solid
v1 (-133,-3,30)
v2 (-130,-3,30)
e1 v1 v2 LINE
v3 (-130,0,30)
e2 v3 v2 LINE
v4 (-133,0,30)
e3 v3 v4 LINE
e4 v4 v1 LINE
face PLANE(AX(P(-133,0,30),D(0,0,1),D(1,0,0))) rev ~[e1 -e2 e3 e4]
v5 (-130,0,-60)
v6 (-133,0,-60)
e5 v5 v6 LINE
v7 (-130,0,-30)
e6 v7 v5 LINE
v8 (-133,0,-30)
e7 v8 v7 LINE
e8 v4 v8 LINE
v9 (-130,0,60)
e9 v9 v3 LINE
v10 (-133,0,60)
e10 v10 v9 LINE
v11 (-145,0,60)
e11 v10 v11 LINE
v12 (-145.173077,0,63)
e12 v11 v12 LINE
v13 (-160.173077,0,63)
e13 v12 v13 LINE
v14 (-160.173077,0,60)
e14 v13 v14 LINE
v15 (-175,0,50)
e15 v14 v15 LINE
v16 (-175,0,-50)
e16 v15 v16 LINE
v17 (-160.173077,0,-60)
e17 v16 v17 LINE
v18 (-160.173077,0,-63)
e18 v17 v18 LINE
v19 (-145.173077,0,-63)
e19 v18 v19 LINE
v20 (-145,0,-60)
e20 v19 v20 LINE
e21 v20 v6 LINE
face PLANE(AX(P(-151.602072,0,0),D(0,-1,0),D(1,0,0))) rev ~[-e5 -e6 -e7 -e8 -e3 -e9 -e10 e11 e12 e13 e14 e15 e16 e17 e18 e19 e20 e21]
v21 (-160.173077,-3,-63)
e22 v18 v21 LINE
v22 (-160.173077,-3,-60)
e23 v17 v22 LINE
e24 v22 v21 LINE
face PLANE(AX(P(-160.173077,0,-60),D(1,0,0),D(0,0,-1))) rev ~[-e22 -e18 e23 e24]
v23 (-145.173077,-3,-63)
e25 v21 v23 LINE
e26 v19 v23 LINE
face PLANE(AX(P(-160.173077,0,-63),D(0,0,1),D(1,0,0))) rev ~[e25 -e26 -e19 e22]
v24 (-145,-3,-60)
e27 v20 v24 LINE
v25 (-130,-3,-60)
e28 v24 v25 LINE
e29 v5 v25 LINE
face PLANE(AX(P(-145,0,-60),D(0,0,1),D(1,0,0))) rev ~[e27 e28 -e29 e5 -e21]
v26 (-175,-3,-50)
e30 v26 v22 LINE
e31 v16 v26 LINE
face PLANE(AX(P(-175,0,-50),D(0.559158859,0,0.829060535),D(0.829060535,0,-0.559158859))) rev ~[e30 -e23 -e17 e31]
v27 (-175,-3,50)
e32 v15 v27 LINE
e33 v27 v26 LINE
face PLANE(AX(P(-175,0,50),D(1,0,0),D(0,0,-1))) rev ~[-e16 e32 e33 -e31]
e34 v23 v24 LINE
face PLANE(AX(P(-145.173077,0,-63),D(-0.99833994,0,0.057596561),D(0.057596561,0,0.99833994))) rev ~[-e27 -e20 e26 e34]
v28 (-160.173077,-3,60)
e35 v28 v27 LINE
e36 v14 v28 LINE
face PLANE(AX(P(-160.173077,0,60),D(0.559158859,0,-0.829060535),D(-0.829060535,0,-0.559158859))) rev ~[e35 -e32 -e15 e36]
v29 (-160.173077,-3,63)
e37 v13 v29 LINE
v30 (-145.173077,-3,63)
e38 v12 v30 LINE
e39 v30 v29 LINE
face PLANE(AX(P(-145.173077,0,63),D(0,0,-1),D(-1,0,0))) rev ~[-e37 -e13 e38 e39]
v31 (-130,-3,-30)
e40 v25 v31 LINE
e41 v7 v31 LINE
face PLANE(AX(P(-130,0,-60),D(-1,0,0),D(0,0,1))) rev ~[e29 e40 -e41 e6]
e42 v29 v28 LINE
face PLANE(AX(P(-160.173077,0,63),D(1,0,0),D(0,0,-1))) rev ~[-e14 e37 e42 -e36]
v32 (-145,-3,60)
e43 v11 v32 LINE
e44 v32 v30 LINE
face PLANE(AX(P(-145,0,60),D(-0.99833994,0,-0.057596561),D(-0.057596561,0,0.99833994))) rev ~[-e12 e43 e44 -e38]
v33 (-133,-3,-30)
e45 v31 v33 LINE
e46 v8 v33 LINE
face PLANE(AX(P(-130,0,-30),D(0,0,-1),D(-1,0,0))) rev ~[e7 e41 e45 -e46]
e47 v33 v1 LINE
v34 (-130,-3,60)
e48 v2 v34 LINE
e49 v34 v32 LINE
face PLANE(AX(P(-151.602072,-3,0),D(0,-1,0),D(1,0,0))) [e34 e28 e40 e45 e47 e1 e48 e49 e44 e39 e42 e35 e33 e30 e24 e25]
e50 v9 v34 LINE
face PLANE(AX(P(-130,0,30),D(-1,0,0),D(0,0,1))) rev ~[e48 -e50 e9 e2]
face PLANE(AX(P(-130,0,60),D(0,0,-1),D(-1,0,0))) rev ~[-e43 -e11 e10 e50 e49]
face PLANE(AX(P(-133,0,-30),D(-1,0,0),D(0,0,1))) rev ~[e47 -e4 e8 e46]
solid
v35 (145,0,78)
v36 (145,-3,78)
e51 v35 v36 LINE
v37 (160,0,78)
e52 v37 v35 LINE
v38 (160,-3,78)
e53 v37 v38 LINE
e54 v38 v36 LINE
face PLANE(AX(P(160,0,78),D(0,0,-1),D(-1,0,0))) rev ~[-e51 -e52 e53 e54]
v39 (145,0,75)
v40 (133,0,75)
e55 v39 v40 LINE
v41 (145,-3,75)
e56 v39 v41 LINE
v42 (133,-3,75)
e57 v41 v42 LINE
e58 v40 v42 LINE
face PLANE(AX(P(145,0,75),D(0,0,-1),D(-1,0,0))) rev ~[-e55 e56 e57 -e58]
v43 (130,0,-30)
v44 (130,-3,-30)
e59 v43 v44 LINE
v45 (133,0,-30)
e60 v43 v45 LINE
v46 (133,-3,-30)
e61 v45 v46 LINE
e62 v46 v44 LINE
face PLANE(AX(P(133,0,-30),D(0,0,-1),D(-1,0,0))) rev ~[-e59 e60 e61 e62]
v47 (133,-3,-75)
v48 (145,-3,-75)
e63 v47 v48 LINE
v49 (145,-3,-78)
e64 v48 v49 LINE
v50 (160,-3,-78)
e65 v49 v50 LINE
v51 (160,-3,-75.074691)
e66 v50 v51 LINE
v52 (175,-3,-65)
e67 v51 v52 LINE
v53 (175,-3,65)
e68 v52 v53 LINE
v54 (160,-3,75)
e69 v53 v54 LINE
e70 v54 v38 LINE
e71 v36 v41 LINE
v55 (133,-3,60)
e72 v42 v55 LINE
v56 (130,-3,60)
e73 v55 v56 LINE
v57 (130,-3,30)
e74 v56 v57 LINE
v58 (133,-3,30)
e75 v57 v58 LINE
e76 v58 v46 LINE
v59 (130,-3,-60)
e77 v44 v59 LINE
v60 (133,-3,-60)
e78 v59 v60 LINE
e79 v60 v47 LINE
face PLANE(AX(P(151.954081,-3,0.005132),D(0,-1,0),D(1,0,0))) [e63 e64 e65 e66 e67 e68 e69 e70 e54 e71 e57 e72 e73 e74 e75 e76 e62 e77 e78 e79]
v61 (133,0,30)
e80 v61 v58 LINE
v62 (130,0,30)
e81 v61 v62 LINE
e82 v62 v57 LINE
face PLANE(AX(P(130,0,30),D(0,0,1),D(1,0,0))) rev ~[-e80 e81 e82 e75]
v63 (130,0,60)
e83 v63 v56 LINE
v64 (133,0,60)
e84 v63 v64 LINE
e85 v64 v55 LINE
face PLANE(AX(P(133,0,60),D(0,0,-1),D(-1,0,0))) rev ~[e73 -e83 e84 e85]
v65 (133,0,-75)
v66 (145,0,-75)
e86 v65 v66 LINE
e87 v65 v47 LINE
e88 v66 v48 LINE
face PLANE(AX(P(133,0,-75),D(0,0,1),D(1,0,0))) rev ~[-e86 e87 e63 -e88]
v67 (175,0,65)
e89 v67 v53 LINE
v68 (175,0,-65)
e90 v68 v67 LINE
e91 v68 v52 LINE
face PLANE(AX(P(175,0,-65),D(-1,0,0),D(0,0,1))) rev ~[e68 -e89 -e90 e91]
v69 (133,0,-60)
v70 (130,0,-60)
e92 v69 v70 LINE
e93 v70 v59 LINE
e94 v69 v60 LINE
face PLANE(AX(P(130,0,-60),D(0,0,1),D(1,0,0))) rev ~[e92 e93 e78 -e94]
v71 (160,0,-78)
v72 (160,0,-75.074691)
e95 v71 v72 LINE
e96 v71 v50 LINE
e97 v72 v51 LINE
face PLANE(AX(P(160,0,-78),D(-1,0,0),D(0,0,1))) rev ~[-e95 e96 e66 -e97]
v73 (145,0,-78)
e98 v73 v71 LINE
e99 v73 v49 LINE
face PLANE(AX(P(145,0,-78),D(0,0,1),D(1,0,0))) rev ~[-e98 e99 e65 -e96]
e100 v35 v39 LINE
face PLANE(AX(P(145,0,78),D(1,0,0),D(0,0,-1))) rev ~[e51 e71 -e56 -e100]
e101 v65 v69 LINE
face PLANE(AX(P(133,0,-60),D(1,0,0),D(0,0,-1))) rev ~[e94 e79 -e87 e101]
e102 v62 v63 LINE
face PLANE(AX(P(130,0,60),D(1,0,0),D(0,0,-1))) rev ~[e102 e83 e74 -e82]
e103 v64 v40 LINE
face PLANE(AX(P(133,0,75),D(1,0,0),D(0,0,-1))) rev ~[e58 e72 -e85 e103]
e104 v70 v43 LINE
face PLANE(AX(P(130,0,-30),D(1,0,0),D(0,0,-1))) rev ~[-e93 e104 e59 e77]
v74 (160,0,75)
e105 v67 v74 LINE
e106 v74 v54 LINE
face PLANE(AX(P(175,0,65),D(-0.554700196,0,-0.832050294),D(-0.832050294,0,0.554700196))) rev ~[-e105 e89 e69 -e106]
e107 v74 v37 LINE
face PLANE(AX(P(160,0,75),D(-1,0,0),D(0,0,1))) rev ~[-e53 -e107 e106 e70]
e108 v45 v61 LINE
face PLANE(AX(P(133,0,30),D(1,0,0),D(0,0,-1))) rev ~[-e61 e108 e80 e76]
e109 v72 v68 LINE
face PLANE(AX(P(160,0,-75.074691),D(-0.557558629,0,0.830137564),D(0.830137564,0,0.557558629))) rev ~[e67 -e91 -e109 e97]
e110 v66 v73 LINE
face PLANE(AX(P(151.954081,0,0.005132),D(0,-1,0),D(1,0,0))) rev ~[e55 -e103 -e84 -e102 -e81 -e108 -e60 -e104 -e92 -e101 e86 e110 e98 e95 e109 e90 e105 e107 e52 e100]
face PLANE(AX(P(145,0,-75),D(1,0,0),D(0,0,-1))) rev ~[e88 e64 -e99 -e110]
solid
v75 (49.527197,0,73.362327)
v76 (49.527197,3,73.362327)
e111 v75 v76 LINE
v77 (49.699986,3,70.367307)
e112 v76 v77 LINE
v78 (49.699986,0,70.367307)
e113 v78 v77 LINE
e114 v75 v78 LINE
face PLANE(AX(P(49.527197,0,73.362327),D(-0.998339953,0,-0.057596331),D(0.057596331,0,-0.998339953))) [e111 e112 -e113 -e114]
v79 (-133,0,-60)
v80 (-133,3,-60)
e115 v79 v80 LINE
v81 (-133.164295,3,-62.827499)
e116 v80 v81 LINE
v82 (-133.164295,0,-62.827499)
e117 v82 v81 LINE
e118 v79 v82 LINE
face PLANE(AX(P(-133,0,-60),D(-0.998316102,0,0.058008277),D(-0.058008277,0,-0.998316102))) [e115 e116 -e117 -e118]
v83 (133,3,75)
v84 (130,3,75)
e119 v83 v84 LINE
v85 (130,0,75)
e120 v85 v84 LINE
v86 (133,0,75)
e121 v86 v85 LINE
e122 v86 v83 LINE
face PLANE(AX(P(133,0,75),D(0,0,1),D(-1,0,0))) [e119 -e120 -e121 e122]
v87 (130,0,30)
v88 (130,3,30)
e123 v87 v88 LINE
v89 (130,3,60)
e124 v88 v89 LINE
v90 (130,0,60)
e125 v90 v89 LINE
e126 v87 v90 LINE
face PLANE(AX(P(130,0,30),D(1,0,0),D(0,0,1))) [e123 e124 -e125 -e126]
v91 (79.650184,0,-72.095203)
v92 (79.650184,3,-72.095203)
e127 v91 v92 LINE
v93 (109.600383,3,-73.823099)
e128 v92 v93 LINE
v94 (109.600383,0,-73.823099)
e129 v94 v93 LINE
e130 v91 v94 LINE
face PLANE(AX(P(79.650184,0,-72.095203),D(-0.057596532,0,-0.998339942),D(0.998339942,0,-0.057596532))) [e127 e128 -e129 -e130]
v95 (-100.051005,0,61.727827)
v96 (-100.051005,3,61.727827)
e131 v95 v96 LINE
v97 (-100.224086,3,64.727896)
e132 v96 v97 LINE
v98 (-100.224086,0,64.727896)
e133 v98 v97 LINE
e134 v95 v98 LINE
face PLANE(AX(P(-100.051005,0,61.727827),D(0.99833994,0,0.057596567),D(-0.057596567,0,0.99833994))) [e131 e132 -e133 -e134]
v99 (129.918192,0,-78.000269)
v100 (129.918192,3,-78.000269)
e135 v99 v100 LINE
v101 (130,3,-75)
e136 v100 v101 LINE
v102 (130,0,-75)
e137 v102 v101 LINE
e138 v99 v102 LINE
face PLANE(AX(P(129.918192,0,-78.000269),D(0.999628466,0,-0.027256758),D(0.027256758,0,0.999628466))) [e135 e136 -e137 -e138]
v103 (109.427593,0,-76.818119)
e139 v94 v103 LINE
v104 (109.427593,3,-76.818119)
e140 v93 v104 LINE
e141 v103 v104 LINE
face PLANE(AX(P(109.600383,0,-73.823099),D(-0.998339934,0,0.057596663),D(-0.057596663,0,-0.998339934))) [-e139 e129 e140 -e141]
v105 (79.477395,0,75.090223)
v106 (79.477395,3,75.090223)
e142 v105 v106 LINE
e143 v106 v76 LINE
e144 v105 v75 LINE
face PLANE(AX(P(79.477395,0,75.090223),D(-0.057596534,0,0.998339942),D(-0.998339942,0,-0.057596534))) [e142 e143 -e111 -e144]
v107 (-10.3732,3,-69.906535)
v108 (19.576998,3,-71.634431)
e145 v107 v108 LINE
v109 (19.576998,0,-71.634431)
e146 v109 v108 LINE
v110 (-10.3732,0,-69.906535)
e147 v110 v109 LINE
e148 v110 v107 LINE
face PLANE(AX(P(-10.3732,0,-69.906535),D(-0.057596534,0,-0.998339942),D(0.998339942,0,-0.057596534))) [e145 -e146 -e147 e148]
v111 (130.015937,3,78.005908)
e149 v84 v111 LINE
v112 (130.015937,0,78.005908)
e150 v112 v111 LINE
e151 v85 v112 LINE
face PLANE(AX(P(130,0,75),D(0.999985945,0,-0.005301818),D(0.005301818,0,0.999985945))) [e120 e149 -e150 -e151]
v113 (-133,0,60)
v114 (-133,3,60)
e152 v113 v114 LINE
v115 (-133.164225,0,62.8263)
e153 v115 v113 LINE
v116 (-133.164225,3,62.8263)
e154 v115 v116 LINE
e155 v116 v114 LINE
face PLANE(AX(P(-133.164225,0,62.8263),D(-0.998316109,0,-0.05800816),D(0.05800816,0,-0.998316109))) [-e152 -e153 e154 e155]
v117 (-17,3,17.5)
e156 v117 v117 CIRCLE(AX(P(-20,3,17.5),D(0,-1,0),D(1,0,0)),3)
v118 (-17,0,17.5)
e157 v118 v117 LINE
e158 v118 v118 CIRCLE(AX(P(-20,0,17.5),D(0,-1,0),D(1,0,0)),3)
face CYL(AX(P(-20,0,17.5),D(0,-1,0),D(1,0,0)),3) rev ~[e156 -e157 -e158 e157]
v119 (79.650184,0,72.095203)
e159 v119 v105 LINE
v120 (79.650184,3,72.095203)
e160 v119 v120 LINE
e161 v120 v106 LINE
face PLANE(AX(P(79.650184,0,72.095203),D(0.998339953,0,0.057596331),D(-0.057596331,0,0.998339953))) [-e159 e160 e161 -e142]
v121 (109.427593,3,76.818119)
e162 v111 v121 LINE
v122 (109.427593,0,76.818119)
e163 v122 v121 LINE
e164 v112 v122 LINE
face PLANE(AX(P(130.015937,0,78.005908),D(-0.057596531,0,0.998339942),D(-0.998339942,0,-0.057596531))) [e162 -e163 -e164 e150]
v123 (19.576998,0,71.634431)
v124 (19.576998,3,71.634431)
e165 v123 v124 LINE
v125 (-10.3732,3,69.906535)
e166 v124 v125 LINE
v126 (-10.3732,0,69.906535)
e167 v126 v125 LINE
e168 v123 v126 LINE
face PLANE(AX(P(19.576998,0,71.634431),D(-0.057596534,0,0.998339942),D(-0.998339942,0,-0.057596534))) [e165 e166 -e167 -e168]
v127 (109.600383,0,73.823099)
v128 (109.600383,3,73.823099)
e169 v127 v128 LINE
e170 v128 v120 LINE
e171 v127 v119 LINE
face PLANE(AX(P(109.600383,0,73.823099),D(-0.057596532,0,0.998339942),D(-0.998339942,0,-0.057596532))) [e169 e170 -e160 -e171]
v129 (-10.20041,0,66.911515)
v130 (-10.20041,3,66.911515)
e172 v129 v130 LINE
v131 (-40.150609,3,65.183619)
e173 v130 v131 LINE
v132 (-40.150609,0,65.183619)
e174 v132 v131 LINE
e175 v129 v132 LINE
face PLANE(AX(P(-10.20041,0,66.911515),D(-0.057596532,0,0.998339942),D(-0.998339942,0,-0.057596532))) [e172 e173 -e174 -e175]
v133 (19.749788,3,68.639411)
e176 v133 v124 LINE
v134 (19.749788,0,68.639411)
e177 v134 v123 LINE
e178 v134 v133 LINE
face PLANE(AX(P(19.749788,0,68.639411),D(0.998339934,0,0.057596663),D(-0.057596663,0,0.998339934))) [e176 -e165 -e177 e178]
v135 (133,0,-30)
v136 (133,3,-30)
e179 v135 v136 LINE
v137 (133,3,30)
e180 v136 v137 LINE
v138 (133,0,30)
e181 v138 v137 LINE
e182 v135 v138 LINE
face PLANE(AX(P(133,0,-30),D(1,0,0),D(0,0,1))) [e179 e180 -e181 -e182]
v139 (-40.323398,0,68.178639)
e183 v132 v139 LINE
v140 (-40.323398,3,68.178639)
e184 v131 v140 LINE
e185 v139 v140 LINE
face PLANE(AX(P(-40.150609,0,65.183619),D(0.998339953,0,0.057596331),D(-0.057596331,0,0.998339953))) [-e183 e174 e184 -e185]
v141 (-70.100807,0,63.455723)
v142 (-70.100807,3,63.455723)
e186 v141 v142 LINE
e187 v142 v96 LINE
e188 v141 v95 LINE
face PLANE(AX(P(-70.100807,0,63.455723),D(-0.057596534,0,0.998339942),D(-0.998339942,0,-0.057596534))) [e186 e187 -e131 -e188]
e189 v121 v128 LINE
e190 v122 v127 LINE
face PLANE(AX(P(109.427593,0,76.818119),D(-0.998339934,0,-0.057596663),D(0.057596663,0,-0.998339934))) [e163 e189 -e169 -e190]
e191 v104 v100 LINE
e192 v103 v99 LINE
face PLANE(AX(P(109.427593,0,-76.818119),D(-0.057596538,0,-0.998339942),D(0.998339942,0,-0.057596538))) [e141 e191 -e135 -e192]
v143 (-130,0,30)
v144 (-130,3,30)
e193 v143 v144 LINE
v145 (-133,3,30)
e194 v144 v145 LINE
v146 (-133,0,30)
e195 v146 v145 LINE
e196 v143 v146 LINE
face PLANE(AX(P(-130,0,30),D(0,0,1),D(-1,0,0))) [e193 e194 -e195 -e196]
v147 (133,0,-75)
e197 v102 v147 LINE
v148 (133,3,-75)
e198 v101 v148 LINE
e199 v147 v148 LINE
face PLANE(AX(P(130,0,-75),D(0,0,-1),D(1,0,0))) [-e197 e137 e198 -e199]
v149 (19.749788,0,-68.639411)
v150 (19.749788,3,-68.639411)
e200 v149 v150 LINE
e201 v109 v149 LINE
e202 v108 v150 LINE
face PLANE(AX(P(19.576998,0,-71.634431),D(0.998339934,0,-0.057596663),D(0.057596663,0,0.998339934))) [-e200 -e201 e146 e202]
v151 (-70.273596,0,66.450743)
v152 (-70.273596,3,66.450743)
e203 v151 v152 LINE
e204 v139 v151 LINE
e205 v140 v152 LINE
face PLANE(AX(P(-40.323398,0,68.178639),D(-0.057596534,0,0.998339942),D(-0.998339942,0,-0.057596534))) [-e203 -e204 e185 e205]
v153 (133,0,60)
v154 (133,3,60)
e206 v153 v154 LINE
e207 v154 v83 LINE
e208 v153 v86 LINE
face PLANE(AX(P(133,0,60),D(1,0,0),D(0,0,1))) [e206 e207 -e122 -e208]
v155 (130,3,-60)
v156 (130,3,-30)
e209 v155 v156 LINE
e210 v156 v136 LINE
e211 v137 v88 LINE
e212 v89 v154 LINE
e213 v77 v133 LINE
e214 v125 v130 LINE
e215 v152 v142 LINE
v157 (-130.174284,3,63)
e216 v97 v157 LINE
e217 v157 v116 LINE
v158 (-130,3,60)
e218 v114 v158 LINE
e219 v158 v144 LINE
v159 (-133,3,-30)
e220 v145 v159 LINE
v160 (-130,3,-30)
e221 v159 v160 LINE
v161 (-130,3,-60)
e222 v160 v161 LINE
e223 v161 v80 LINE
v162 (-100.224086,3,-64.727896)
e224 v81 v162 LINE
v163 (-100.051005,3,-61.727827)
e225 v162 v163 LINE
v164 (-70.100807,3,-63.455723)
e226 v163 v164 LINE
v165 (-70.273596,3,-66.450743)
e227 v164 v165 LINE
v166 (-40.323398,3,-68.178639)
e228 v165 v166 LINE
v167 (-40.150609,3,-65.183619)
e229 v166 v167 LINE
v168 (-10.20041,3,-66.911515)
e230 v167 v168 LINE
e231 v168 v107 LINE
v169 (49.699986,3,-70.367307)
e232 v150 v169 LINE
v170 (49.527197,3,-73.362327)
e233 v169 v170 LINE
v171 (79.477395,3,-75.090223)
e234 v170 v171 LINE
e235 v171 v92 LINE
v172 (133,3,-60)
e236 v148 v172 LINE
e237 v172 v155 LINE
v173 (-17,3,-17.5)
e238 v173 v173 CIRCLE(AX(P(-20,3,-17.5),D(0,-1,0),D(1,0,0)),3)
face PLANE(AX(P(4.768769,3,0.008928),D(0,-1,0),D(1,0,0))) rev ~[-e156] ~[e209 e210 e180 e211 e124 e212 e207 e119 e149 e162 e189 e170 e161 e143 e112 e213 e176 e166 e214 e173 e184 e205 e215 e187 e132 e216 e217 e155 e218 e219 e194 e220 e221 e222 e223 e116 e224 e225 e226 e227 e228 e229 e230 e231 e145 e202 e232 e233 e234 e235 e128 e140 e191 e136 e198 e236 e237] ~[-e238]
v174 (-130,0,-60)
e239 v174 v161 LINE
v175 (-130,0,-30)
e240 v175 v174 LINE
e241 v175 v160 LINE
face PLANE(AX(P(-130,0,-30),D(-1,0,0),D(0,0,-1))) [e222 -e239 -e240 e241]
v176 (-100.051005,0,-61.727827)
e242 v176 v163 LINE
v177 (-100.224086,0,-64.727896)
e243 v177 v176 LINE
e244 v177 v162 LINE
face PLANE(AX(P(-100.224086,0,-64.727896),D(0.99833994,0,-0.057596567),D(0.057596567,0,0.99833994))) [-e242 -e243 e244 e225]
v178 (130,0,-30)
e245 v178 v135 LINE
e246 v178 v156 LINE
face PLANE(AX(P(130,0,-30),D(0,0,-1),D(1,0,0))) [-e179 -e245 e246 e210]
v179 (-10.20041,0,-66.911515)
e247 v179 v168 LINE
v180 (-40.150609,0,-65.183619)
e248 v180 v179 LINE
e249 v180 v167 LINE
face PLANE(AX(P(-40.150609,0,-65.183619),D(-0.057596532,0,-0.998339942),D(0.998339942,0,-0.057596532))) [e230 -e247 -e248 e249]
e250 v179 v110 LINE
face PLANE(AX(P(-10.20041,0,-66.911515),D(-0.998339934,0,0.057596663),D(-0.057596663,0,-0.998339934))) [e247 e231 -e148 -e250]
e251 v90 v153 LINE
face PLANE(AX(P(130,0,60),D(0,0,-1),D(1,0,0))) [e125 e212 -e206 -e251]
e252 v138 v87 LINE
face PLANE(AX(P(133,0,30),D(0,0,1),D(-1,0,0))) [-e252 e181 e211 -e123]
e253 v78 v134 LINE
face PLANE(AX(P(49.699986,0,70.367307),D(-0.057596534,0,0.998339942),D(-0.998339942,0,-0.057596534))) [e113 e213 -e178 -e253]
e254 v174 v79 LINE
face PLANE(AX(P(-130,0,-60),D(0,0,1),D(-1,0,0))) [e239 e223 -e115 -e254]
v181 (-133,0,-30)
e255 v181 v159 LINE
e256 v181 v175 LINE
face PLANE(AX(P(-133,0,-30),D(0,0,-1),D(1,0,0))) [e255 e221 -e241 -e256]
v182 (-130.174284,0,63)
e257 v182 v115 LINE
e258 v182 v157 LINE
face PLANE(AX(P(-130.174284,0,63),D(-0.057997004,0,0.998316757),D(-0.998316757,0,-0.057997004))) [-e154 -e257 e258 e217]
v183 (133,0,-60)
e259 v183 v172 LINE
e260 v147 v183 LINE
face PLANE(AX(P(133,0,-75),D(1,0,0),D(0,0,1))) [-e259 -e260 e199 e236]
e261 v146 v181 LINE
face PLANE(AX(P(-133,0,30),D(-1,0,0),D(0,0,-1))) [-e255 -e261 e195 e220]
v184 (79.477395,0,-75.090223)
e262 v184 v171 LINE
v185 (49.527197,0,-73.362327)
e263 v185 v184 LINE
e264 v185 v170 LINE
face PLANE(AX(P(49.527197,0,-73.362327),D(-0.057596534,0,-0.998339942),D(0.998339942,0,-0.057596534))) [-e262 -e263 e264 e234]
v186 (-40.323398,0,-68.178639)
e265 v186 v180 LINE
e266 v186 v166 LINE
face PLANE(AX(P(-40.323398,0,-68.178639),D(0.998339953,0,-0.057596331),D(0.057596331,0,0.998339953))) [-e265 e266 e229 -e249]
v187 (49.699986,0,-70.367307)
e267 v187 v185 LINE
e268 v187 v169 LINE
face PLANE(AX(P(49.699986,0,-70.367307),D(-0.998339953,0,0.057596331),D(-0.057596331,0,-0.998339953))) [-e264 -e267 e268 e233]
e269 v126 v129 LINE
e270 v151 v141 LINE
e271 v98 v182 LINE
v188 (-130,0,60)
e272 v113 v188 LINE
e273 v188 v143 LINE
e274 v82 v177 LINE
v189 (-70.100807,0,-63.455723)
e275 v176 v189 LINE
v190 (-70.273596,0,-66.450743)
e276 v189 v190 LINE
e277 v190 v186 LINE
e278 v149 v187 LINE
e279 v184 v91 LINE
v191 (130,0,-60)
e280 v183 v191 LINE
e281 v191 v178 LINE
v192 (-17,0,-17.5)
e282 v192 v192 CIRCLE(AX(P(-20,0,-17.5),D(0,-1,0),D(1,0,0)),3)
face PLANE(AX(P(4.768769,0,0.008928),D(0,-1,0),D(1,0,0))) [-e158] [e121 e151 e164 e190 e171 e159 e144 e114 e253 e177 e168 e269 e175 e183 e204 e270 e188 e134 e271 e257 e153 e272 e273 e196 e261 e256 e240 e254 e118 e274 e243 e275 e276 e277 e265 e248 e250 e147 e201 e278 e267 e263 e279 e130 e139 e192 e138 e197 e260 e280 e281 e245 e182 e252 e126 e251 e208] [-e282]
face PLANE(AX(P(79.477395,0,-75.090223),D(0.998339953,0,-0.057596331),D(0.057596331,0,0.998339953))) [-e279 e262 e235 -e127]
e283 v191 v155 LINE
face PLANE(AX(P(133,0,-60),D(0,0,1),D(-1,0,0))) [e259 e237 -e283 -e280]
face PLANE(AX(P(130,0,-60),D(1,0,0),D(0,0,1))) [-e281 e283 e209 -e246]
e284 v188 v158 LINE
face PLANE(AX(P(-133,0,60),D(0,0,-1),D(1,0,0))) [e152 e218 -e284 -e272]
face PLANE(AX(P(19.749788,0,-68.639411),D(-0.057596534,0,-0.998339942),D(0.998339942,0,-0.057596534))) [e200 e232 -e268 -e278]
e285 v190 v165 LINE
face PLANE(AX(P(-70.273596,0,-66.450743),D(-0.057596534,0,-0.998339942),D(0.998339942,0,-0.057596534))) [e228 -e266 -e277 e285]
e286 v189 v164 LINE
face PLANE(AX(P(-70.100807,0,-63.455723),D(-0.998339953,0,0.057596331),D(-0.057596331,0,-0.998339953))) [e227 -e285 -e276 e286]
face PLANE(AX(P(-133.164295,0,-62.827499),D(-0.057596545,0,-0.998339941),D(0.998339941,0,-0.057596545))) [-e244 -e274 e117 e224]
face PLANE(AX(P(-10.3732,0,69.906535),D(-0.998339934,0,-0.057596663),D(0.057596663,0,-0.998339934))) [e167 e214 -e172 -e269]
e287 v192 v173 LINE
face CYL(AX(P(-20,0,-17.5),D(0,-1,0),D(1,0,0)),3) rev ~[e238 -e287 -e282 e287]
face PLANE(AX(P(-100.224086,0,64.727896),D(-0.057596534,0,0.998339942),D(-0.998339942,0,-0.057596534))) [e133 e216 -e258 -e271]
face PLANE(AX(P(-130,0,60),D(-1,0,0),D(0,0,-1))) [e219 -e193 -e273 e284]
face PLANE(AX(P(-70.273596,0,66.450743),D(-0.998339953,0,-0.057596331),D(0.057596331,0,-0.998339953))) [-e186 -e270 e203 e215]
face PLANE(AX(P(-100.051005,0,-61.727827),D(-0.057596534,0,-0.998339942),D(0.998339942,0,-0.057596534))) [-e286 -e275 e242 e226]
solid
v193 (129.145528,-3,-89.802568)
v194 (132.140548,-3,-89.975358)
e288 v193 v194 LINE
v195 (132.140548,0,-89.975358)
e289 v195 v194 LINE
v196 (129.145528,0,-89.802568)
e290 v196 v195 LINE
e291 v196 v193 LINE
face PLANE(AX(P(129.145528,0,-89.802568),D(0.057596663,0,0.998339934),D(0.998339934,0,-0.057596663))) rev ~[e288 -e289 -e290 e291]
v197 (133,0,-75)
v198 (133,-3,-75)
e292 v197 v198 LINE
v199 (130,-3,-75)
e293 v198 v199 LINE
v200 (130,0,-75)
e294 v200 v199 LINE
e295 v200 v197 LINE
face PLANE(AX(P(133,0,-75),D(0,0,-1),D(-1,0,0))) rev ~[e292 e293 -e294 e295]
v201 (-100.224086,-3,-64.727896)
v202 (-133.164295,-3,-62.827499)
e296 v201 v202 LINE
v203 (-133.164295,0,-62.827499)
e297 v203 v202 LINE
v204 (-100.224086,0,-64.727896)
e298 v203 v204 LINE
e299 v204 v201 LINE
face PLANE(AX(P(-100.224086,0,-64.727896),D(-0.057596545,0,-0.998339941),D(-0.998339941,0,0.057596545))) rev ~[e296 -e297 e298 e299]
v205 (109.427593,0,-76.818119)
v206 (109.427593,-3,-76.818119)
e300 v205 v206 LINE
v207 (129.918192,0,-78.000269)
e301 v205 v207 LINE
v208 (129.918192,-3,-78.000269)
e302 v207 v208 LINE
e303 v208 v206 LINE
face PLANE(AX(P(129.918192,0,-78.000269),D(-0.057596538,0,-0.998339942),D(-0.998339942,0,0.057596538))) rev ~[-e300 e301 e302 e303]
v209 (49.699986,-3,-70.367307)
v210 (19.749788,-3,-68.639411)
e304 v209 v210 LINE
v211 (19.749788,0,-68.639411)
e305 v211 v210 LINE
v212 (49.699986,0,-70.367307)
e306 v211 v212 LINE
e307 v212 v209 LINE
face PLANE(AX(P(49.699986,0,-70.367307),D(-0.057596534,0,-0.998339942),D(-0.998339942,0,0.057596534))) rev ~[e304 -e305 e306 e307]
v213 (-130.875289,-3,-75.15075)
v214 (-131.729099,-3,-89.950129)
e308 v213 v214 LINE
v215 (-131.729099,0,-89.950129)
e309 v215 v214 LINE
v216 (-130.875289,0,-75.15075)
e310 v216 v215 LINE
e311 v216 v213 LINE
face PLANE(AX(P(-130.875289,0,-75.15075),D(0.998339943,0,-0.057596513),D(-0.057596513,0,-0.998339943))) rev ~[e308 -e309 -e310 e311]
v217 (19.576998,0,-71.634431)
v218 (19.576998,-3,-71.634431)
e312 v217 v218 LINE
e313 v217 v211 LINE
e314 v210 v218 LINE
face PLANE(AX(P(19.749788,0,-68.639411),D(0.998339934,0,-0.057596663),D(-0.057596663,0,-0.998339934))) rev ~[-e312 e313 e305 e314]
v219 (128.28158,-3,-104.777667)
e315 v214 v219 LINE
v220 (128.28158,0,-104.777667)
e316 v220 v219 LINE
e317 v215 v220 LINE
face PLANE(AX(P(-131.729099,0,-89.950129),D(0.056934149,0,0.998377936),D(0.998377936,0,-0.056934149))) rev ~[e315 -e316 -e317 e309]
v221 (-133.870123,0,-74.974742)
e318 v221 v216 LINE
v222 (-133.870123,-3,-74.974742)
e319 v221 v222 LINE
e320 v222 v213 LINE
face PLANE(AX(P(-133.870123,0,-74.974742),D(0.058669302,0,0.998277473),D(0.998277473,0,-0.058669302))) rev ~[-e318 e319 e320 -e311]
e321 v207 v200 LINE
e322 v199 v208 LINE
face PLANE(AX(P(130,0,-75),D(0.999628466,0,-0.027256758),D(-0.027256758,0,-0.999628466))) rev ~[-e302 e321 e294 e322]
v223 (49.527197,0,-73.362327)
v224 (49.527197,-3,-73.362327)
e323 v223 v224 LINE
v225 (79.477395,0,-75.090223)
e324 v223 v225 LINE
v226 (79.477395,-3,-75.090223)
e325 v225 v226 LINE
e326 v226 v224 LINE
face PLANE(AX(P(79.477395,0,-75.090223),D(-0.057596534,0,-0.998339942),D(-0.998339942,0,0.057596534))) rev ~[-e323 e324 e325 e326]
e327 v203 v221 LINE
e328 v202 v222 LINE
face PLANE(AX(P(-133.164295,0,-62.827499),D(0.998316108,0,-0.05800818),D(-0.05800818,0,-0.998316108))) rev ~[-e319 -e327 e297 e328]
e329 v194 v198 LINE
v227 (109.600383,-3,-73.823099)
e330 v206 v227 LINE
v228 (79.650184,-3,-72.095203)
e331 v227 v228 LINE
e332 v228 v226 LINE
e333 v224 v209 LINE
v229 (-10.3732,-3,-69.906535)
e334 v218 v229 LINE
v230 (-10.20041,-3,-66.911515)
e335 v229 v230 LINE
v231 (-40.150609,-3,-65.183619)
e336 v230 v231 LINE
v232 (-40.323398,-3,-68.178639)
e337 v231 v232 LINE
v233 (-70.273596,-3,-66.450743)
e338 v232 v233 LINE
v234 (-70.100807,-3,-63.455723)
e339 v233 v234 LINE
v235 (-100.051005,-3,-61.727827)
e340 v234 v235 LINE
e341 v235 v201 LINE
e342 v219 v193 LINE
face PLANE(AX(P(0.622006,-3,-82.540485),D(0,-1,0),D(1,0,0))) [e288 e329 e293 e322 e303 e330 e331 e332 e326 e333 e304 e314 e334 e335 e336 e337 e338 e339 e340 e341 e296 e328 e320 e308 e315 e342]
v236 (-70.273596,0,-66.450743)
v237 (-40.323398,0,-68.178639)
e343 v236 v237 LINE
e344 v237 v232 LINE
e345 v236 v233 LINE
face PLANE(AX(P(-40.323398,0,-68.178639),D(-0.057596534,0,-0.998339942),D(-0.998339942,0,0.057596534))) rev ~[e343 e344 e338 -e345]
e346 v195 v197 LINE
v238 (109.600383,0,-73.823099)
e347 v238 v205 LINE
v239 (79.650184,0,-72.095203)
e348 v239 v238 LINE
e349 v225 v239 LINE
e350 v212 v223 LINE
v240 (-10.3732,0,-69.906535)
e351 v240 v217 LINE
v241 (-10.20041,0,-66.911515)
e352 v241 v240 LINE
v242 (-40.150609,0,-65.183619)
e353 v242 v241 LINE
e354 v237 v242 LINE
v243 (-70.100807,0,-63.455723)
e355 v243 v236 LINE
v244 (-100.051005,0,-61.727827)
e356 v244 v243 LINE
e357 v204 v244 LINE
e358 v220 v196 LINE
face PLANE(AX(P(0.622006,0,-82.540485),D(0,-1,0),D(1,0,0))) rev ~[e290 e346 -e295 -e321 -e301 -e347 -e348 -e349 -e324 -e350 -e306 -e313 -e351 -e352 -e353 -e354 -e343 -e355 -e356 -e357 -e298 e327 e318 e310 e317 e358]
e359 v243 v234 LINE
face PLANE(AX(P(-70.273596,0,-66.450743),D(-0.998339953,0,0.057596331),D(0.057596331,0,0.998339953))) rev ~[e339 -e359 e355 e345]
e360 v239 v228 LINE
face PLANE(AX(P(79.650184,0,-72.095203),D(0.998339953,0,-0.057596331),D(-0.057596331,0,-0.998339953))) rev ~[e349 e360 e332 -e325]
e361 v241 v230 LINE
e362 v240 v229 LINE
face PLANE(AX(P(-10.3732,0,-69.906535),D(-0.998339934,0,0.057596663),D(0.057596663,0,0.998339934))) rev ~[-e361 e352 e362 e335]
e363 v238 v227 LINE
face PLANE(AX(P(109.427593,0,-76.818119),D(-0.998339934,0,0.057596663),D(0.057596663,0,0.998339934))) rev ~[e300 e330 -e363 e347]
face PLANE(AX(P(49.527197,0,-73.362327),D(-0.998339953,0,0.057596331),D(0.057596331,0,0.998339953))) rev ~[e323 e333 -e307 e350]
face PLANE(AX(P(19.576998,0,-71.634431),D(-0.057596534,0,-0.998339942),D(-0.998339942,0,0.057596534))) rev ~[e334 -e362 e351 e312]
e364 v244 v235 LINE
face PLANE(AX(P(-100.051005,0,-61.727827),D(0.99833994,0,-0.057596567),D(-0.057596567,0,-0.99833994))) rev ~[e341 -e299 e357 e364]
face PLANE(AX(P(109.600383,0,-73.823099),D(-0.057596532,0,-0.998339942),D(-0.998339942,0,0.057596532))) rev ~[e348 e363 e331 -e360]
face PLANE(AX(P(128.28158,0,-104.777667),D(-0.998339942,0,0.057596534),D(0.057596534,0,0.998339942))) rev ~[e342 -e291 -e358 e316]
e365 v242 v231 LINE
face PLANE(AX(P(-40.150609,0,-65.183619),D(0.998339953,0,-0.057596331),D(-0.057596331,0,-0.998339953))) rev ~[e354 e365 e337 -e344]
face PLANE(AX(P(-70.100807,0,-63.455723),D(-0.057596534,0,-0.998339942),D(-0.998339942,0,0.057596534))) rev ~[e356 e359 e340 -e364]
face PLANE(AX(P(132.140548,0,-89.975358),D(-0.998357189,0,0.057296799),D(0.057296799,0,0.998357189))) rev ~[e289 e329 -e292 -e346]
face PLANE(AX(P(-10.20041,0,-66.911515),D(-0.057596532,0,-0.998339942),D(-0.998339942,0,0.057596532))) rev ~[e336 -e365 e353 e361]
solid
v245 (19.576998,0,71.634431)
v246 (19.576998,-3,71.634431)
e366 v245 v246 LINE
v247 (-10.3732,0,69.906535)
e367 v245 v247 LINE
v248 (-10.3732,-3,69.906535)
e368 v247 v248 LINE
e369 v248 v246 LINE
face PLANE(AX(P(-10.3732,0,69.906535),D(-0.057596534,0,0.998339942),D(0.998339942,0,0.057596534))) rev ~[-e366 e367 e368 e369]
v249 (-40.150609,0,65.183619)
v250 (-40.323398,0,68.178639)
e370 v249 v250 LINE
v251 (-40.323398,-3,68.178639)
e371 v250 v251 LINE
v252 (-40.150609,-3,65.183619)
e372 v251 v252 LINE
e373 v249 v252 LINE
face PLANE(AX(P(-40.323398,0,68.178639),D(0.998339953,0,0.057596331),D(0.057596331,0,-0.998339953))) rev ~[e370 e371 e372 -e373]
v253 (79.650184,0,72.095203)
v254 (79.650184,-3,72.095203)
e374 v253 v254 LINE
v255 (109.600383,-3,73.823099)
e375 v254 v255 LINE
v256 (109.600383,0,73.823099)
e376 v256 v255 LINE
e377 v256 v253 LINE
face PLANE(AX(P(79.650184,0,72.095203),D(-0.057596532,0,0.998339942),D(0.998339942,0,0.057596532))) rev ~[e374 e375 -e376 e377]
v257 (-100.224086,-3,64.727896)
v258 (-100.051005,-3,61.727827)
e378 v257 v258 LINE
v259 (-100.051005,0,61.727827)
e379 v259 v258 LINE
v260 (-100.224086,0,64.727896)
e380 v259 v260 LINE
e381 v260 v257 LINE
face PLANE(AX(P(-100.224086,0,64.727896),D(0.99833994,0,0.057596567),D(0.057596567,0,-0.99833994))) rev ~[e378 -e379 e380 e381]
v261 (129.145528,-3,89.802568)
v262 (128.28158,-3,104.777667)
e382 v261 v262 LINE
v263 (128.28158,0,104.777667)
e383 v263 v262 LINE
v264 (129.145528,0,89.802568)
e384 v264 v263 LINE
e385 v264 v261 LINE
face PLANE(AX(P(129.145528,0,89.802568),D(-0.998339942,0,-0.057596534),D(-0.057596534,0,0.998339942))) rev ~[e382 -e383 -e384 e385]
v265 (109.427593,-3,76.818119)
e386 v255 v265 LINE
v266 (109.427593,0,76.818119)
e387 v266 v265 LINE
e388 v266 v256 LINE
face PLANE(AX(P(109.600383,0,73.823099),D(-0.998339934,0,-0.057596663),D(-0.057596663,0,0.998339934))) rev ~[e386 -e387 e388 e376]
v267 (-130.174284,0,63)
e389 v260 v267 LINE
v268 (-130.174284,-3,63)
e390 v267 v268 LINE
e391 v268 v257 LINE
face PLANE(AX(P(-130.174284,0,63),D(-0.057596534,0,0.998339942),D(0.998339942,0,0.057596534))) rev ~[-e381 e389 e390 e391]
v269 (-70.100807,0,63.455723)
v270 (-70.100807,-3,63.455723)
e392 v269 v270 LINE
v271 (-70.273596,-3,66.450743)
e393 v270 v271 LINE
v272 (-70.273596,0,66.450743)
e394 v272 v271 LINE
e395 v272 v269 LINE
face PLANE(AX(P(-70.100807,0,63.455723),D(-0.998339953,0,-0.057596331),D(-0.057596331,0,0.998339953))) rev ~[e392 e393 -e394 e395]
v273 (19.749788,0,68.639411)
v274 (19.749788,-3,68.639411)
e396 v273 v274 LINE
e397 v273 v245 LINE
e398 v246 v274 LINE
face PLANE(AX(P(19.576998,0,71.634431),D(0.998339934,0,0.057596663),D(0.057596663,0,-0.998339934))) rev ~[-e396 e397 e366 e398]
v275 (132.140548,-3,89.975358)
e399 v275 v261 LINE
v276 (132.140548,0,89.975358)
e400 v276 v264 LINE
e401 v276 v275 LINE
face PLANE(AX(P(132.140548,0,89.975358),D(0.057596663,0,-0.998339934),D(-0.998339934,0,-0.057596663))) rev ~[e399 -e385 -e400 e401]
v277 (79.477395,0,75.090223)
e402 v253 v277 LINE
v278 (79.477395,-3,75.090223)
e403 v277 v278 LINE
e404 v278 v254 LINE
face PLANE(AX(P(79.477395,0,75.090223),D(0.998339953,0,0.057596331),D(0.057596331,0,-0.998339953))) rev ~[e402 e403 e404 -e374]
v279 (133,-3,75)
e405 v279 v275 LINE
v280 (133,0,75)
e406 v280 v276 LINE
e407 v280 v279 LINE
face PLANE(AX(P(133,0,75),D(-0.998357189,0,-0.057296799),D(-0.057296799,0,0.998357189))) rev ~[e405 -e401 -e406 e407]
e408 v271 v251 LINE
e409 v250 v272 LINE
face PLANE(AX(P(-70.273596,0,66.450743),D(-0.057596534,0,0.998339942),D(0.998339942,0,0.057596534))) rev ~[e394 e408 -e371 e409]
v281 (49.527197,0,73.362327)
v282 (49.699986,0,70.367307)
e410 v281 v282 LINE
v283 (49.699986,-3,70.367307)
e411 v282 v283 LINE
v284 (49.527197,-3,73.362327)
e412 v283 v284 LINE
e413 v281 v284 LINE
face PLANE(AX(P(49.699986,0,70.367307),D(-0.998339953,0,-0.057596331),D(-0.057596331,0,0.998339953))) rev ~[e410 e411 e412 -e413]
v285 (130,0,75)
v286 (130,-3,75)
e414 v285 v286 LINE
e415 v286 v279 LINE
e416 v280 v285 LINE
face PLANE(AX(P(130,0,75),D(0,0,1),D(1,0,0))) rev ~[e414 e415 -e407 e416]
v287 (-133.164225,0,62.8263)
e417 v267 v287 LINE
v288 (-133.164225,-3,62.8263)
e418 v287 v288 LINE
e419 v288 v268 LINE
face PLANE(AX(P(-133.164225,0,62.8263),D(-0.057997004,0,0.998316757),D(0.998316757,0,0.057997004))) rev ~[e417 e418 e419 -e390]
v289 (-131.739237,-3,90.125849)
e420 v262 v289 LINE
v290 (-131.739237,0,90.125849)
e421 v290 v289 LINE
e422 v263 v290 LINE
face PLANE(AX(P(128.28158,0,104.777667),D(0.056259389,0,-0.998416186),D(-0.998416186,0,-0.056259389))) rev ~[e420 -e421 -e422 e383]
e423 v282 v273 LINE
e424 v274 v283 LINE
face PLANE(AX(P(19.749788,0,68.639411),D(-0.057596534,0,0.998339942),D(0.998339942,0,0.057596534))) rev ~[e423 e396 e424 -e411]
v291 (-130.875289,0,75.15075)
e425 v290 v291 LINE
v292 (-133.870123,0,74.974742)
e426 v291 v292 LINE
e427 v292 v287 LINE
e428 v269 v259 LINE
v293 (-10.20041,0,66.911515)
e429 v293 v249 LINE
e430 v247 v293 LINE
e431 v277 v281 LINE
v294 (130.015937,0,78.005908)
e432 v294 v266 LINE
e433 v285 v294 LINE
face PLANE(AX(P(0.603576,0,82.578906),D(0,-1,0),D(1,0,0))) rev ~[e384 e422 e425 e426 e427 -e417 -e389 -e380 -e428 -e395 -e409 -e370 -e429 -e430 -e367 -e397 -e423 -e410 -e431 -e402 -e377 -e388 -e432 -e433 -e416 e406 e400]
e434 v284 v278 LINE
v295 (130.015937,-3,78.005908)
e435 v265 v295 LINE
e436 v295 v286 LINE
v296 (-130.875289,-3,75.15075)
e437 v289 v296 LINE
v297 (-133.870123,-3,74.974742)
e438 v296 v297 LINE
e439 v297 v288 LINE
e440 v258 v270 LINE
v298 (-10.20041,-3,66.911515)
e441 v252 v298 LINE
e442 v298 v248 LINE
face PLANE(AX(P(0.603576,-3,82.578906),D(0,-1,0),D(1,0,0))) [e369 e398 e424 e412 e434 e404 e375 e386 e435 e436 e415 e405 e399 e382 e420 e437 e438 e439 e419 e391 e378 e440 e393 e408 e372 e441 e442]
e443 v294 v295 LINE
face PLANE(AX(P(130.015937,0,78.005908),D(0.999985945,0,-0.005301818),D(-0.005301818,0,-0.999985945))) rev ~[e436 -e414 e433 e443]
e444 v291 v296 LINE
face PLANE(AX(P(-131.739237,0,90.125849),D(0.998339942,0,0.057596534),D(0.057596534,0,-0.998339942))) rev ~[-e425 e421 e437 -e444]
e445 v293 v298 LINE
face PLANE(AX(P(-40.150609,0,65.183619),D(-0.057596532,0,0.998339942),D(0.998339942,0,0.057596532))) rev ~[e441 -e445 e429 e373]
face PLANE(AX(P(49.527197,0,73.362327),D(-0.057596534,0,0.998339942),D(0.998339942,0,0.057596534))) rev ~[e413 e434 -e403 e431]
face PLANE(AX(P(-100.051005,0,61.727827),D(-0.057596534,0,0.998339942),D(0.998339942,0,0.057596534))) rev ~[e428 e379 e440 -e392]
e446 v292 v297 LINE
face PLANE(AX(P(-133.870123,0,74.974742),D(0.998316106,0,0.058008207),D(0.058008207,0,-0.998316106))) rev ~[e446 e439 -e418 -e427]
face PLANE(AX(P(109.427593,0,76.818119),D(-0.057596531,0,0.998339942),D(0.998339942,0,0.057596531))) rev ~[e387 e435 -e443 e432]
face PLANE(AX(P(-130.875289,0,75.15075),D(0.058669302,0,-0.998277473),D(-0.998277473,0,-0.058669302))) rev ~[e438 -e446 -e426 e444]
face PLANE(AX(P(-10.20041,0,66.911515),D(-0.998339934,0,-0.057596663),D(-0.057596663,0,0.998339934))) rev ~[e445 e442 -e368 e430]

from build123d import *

# Parameters (mm, degrees)
F0_R     = 3
F1_DEPTH = 3
F2_DEPTH = 3
F3_DEPTH = 3
F4_DEPTH = 3
F5_DEPTH = 3


with BuildPart() as f1:
    # F0 (on Front) → F1 (new body)
    with BuildSketch(Plane.XZ):
        Polygon((-100.051005, 61.727827), (-100.224086, 64.727896), (-130.174284, 63), (-133.164225, 62.8263), (-133, 60), (-130, 60), (-130, 30), (-133, 30), (-133, 0), (-133, -30), (-130, -30), (-130, -60), (-133, -60), (-133.164295, -62.827499), (-100.224086, -64.727896), (-100.051005, -61.727827), (-70.100807, -63.455723), (-70.273596, -66.450743), (-40.323398, -68.178639), (-40.150609, -65.183619), (-10.20041, -66.911515), (-10.3732, -69.906535), (19.576998, -71.634431), (19.749788, -68.639411), (49.699986, -70.367307), (49.527197, -73.362327), (79.477395, -75.090223), (79.650184, -72.095203), (109.600383, -73.823099), (109.427593, -76.818119), (129.918192, -78.000269), (130, -75), (133, -75), (133, -60), (130, -60), (130, -30), (133, -30), (133, 0), (133, 30), (130, 30), (130, 60), (133, 60), (133, 75), (130, 75), (130.015937, 78.005908), (109.427593, 76.818119), (109.600383, 73.823099), (79.650184, 72.095203), (79.477395, 75.090223), (49.527197, 73.362327), (49.699986, 70.367307), (19.749788, 68.639411), (19.576998, 71.634431), (-10.3732, 69.906535), (-10.20041, 66.911515), (-40.150609, 65.183619), (-40.323398, 68.178639), (-70.273596, 66.450743), (-70.100807, 63.455723), align=None)
        with Locations((-20, -17.5)):
            Circle(F0_R, mode=Mode.SUBTRACT)
        with Locations((-20, 17.5)):
            Circle(F0_R, mode=Mode.SUBTRACT)
    extrude(amount=-F1_DEPTH)

    # F0 (on Front) → F2 (join)
    with BuildSketch(Plane.XZ):
        Polygon((-130.174284, 63), (-100.224086, 64.727896), (-100.051005, 61.727827), (-70.100807, 63.455723), (-70.273596, 66.450743), (-40.323398, 68.178639), (-40.150609, 65.183619), (-10.20041, 66.911515), (-10.3732, 69.906535), (19.576998, 71.634431), (19.749788, 68.639411), (49.699986, 70.367307), (49.527197, 73.362327), (79.477395, 75.090223), (79.650184, 72.095203), (109.600383, 73.823099), (109.427593, 76.818119), (130.015937, 78.005908), (130, 75), (133, 75), (132.140548, 89.975358), (129.145528, 89.802568), (128.28158, 104.777667), (-131.739237, 90.125849), (-130.875289, 75.15075), (-133.870123, 74.974742), (-133.164225, 62.8263), align=None)
    extrude(amount=F2_DEPTH)

    # F0 (on Front) → F3 (join)
    with BuildSketch(Plane.XZ):
        Polygon((-130, 60), (-133, 60), (-145, 60), (-145.173077, 63), (-160.173077, 63), (-160.173077, 60), (-175, 50), (-175, 0), (-175, -50), (-160.173077, -60), (-160.173077, -63), (-145.173077, -63), (-145, -60), (-133, -60), (-130, -60), (-130, -30), (-133, -30), (-133, 0), (-133, 30), (-130, 30), align=None)
    extrude(amount=F3_DEPTH)

    # F0 (on Front) → F4 (join)
    with BuildSketch(Plane.XZ):
        Polygon((-100.224086, -64.727896), (-133.164295, -62.827499), (-133.870123, -74.974742), (-130.875289, -75.15075), (-131.729099, -89.950129), (128.28158, -104.777667), (129.145528, -89.802568), (132.140548, -89.975358), (133, -75), (130, -75), (129.918192, -78.000269), (109.427593, -76.818119), (109.600383, -73.823099), (79.650184, -72.095203), (79.477395, -75.090223), (49.527197, -73.362327), (49.699986, -70.367307), (19.749788, -68.639411), (19.576998, -71.634431), (-10.3732, -69.906535), (-10.20041, -66.911515), (-40.150609, -65.183619), (-40.323398, -68.178639), (-70.273596, -66.450743), (-70.100807, -63.455723), (-100.051005, -61.727827), align=None)
    extrude(amount=F4_DEPTH)

    # F0 (on Front) → F5 (join)
    with BuildSketch(Plane.XZ):
        Polygon((145, 75), (133, 75), (133, 60), (130, 60), (130, 30), (133, 30), (133, 0), (133, -30), (130, -30), (130, -60), (133, -60), (133, -75), (145, -75), (145, -78), (160, -78), (160, -75.074691), (175, -65), (175, 0), (175, 65), (160, 75), (160, 78), (145, 78), align=None)
    extrude(amount=F5_DEPTH)


solid = f1.part
